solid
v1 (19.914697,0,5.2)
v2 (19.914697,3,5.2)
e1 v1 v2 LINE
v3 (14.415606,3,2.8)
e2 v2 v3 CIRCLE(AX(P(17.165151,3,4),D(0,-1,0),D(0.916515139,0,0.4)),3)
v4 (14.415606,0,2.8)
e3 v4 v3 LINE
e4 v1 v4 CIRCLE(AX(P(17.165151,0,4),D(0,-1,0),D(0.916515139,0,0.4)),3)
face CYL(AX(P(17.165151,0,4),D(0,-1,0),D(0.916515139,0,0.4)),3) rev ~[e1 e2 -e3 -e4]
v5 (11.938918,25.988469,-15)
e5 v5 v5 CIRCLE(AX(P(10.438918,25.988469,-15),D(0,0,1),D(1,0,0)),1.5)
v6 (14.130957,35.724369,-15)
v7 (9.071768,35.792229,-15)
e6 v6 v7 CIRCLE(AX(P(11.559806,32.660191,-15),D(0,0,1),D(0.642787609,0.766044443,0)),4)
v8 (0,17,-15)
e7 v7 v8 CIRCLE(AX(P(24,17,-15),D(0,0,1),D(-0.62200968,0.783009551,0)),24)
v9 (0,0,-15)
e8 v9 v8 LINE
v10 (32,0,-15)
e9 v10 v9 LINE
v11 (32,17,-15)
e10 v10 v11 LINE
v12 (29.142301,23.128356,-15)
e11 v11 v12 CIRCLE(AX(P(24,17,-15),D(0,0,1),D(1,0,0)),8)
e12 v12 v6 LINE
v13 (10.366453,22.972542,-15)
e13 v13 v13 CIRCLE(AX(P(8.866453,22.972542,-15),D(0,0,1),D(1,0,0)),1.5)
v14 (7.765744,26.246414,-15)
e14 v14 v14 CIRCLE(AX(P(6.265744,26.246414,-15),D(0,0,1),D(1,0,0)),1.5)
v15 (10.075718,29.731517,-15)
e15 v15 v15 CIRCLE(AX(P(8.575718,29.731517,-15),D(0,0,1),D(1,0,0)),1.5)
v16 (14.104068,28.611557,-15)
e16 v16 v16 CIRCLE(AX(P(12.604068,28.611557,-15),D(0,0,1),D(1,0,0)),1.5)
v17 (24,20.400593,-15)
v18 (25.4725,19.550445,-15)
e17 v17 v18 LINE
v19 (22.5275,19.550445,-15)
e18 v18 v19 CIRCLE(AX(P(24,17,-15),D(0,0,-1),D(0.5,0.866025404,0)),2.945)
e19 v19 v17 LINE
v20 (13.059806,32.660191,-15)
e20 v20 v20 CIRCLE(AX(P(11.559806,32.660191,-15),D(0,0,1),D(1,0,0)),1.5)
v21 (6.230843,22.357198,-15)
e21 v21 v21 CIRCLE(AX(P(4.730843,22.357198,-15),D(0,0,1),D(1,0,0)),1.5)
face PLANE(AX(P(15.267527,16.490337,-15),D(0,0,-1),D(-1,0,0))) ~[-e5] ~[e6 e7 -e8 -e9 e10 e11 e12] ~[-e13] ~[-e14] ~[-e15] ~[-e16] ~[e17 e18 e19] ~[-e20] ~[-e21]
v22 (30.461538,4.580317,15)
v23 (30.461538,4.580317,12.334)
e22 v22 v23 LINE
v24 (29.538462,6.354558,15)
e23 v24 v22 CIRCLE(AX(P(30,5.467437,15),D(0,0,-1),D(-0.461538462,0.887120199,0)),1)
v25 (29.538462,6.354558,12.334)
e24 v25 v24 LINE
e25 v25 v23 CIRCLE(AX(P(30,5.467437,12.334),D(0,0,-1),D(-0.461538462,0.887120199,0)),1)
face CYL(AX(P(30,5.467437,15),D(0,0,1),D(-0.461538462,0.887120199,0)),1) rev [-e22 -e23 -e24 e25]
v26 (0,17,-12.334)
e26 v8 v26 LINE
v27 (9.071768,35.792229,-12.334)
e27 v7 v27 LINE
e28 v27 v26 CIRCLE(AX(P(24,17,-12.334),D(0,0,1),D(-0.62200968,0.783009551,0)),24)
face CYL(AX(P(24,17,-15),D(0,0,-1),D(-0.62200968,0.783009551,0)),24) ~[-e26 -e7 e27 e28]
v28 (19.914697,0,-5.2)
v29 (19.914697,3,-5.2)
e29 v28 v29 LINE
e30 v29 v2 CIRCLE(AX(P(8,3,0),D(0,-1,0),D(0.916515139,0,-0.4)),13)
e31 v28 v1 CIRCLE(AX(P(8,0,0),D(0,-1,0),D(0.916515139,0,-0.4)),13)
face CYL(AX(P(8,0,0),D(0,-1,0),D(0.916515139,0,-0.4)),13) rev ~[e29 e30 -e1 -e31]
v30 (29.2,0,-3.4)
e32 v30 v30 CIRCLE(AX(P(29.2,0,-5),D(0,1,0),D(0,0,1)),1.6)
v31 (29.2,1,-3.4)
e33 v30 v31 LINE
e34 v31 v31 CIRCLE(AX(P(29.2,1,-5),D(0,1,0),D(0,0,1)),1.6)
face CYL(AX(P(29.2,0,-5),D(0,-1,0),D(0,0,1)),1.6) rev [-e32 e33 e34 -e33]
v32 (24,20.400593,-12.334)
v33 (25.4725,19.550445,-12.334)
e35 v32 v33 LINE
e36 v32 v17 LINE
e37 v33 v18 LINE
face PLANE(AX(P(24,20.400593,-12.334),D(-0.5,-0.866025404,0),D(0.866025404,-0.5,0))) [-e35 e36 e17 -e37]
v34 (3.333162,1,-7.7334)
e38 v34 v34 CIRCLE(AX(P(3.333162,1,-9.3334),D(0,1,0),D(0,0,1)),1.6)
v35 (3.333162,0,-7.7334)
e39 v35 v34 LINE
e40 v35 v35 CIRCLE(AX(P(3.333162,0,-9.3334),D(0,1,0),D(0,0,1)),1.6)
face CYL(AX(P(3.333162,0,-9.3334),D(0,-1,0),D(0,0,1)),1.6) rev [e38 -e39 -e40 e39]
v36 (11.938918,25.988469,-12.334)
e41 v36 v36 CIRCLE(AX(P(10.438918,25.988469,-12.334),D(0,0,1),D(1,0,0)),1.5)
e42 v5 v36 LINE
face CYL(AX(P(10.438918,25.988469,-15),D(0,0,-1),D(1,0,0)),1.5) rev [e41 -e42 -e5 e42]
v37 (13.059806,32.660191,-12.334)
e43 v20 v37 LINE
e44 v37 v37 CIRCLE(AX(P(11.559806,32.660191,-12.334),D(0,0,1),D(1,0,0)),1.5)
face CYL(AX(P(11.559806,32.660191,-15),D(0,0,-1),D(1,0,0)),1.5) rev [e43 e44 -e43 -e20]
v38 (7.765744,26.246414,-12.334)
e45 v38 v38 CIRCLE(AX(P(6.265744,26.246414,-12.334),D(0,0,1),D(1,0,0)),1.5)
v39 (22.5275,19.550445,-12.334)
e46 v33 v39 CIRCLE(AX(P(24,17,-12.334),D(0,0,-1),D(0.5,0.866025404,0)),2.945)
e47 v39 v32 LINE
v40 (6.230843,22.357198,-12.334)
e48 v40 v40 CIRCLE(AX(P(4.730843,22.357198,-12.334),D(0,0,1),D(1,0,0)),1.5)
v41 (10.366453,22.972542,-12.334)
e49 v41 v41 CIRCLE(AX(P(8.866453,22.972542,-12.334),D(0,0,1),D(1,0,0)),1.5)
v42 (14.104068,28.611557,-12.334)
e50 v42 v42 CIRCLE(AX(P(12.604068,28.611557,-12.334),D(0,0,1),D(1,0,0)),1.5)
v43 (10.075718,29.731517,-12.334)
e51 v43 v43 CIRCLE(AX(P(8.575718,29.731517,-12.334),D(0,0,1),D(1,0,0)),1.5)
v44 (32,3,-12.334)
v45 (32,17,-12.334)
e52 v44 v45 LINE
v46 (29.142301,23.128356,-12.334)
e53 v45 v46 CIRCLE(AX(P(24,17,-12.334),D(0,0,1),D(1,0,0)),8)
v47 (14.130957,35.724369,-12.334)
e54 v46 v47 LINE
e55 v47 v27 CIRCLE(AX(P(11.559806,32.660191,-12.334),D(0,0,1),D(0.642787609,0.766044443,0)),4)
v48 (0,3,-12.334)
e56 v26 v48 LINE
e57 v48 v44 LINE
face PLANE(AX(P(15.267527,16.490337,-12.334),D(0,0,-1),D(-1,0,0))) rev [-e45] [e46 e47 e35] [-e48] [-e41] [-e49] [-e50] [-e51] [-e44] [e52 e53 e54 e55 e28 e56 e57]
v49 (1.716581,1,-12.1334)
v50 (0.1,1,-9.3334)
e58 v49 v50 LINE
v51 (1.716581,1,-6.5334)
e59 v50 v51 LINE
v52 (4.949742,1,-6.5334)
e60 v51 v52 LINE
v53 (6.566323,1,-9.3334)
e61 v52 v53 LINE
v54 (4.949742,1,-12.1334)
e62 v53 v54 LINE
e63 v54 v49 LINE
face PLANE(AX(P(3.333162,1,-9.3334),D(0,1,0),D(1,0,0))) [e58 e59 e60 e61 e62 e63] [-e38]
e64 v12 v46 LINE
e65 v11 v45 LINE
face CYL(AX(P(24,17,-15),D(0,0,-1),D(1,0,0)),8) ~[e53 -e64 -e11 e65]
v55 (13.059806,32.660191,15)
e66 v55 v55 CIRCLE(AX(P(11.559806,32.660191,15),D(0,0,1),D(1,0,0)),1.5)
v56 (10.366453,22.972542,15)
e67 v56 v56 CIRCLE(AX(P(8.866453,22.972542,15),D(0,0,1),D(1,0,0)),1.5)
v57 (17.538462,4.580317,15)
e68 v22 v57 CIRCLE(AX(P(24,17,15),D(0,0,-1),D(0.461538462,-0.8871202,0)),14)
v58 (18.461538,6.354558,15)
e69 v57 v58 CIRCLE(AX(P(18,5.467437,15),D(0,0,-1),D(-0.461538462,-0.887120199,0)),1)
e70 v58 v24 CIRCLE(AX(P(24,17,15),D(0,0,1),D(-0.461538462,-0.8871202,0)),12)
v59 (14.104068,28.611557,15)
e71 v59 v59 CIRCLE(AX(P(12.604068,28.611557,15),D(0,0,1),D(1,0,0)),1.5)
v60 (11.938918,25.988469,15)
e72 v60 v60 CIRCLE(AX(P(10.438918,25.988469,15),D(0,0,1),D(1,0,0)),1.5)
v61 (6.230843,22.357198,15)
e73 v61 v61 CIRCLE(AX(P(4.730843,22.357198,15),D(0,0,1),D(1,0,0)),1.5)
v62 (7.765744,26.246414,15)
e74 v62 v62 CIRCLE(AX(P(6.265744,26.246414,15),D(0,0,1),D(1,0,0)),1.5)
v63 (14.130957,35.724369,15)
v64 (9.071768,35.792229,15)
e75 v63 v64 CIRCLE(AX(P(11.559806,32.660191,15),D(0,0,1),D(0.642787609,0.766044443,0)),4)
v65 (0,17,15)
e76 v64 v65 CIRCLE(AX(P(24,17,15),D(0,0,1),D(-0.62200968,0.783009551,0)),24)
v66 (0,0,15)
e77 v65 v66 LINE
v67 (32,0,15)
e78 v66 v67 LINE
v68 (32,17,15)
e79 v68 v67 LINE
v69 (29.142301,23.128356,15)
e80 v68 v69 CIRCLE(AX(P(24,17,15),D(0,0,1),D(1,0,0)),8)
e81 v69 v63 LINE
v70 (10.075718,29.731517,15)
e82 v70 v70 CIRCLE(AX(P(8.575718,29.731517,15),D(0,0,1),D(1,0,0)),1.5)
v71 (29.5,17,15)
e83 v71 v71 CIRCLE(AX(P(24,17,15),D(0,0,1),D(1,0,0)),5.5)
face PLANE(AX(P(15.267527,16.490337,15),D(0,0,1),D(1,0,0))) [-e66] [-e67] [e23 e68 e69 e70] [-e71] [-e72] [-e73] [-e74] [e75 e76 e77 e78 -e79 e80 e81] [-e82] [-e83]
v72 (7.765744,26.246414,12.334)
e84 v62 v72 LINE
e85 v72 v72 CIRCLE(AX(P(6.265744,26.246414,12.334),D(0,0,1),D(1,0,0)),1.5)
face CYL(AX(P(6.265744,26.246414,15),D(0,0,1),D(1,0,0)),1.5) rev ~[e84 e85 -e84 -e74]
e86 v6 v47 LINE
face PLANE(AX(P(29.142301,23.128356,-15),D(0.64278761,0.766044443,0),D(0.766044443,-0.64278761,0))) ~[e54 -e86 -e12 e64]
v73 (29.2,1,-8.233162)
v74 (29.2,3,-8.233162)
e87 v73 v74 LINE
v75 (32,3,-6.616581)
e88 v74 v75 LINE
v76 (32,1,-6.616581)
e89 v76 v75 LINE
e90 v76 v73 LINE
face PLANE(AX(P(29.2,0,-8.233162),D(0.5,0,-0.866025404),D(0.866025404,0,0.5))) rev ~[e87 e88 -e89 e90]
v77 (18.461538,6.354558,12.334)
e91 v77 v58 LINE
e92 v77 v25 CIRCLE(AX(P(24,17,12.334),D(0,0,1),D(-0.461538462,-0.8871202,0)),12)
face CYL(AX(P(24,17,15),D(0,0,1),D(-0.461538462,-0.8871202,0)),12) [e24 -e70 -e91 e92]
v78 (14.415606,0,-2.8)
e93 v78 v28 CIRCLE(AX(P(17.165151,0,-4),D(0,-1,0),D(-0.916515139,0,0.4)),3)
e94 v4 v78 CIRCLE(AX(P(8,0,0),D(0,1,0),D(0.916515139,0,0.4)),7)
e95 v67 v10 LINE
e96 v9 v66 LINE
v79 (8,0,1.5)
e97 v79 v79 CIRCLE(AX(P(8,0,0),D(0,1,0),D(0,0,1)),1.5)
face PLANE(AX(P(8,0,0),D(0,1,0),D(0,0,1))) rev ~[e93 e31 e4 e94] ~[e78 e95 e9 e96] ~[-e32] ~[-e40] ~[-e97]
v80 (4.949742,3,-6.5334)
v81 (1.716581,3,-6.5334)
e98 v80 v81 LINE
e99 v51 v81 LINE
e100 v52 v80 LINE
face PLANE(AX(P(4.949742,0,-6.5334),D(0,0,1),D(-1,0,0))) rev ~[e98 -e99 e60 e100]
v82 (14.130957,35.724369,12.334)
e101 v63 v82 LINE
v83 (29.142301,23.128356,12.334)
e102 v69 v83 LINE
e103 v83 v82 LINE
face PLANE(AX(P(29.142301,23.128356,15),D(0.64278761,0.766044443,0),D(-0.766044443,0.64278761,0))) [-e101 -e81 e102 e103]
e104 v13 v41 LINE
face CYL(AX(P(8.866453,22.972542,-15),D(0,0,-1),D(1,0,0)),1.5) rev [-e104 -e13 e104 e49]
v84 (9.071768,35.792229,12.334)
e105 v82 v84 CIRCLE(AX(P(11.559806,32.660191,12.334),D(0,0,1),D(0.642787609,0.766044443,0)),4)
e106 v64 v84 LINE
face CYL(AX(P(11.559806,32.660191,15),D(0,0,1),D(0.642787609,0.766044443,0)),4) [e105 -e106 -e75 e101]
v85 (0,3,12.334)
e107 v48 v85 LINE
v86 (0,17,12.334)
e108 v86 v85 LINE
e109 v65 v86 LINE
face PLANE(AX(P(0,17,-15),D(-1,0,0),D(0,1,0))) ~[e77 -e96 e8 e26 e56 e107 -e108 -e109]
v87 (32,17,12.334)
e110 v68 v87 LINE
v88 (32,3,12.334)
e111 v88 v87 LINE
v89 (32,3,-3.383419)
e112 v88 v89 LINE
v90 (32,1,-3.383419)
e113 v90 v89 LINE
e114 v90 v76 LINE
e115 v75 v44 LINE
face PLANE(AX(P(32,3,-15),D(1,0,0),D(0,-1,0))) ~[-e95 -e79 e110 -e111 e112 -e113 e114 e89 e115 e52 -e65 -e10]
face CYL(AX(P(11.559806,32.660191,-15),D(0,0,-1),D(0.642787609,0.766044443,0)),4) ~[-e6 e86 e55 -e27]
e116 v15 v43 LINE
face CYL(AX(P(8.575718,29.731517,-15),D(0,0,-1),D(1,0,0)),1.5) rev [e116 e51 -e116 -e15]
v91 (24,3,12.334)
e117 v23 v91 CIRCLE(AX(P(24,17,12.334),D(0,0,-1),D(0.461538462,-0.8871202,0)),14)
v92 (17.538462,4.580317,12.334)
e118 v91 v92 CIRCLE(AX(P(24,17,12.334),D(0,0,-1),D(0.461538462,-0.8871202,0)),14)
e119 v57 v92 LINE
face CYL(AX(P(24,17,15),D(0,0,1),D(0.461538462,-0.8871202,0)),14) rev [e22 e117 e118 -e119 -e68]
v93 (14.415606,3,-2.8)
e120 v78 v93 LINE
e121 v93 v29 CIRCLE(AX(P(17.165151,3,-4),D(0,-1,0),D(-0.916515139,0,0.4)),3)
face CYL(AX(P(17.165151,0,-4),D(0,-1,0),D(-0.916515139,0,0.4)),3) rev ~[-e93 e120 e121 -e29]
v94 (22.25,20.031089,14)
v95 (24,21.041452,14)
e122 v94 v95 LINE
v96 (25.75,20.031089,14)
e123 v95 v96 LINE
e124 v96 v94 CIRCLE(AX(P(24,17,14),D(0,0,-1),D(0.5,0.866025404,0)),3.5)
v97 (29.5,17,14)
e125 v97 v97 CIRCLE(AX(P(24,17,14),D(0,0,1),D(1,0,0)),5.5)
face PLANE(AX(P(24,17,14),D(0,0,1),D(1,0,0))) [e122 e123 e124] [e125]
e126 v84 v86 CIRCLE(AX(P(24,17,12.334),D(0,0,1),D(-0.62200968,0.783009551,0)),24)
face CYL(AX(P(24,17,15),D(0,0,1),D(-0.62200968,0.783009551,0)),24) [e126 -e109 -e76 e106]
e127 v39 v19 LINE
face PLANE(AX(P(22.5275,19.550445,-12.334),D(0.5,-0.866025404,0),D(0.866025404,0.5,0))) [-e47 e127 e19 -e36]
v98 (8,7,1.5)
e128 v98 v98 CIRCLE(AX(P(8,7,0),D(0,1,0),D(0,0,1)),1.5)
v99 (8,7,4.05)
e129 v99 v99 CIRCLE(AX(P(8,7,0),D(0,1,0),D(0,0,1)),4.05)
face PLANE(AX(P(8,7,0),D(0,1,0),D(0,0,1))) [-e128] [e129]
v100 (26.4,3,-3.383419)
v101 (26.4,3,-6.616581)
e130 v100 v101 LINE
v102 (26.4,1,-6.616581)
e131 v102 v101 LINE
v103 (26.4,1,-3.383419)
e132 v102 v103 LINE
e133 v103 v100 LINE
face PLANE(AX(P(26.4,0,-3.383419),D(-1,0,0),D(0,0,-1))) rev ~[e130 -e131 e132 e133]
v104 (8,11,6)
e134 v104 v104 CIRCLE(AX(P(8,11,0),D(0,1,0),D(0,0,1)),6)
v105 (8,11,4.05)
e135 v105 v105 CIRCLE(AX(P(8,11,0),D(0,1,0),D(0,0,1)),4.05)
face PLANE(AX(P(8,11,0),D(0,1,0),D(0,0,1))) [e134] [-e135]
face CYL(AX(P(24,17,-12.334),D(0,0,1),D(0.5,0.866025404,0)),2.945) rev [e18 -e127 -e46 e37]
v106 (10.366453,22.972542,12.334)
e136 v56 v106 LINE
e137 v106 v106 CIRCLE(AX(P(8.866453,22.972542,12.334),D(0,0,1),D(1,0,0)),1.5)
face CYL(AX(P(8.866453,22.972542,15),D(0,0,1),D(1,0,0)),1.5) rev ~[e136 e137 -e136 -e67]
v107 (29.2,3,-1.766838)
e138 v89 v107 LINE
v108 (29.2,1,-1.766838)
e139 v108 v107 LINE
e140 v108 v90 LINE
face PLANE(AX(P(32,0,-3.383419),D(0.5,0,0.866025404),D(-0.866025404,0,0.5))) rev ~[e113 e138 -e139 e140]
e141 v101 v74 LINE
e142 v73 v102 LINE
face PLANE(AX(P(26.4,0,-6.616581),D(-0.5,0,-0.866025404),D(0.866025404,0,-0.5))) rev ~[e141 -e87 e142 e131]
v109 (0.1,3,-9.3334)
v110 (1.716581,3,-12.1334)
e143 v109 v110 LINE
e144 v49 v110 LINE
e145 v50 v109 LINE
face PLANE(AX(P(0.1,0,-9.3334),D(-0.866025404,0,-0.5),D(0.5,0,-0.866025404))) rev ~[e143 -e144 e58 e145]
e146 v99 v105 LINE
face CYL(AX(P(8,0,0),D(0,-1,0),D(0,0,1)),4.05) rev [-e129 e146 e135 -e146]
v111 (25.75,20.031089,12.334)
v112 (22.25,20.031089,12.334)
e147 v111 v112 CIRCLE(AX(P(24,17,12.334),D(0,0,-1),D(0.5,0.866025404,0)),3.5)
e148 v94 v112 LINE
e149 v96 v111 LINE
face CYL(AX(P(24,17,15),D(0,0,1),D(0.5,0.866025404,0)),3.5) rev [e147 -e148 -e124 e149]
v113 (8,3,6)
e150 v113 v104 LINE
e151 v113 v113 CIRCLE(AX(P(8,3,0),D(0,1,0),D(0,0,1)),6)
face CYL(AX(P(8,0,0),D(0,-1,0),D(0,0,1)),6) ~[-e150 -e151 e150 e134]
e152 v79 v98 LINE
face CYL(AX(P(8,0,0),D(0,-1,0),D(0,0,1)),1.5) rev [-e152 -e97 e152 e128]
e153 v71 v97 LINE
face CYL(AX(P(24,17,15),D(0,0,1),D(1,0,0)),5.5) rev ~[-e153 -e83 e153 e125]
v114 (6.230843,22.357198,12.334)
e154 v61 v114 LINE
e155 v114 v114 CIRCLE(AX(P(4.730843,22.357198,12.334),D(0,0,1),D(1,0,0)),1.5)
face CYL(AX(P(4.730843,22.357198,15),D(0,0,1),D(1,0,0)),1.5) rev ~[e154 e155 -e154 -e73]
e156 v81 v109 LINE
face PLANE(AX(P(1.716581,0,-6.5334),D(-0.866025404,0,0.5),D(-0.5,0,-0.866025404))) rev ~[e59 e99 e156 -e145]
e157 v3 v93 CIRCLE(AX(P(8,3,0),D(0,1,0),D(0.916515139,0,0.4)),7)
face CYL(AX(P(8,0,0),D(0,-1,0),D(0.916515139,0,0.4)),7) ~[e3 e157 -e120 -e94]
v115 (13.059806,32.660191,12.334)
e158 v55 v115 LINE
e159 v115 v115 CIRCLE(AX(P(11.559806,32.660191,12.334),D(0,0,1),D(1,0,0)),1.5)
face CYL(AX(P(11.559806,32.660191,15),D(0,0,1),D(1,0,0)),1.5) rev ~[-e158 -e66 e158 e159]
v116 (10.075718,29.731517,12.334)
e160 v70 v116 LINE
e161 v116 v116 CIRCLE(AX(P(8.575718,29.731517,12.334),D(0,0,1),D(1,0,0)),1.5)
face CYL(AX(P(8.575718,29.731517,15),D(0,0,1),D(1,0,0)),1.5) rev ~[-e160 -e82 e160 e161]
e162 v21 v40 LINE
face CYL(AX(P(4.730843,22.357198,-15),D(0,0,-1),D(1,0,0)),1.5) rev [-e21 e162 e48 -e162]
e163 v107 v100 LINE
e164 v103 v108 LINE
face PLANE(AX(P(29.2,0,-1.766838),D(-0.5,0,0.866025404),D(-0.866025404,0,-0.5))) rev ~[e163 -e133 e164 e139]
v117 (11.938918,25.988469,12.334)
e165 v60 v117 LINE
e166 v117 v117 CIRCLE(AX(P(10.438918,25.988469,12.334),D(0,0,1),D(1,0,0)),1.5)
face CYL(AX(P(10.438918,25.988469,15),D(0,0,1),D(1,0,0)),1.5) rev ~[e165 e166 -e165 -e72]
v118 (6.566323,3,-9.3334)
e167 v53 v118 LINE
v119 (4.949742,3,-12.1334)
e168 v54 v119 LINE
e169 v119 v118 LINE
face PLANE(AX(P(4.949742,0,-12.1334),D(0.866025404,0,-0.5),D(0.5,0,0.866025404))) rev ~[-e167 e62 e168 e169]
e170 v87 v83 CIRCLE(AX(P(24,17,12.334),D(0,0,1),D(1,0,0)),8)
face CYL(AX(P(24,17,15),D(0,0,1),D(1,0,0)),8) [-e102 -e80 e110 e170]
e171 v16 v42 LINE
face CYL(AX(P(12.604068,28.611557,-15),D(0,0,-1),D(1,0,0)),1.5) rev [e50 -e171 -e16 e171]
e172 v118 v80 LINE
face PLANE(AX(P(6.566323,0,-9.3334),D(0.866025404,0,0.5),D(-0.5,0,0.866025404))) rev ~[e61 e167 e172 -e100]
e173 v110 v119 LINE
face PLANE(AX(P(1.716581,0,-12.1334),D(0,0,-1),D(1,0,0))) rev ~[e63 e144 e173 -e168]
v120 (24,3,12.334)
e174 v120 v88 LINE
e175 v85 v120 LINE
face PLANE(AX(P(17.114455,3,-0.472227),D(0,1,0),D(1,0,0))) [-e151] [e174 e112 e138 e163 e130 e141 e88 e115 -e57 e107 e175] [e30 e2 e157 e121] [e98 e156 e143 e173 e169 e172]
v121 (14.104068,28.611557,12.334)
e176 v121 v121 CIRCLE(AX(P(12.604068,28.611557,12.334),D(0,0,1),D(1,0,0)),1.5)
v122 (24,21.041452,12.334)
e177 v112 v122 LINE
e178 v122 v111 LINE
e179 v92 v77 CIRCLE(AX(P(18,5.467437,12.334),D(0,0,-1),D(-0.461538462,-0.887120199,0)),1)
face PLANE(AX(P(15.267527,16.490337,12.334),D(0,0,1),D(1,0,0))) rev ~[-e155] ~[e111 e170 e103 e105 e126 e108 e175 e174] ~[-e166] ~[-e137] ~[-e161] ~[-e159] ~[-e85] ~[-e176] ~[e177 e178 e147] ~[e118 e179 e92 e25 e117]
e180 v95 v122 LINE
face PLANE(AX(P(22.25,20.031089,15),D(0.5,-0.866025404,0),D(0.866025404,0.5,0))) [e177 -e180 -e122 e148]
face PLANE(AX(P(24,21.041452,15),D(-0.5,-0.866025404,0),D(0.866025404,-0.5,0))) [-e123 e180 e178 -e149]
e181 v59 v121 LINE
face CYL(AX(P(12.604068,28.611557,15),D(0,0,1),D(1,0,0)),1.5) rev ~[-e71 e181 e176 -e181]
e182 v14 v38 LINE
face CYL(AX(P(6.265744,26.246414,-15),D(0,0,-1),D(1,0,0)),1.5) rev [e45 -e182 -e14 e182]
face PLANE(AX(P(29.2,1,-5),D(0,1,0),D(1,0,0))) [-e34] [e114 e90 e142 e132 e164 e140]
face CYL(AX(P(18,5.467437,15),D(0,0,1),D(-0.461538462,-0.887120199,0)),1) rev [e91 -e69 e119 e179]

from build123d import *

# Parameters (mm, degrees)
SKETCH1_R           = 6
BOSS_EXTRUDE1_DEPTH = 3
SKETCH1_3_R         = 1.6
BOSS_EXTRUDE5_DEPTH = 1
SKETCH1_6_R         = 6
SKETCH1_6_R_2       = 4.05
BOSS_EXTRUDE6_DEPTH = 11
SKETCH1_7_R         = 4.05
SKETCH1_7_R_2       = 1.5
BOSS_EXTRUDE7_DEPTH = 7
SKETCH2_R           = 1.5
BOSS_EXTRUDE2_DEPTH = 2.666
CUT_EXTRUDE1_DEPTH  = 2.666
CUT_EXTRUDE2_DEPTH  = 2.666
SKETCH3_3_R         = 5.5
CUT_EXTRUDE4_DEPTH  = 1


with BuildPart() as part:
    # Sketch1 → Boss-Extrude1 (new body)
    with BuildSketch(Plane(origin=(0, 0, 0), x_dir=(1, 0, 0), z_dir=(0, 1, 0))):
        Polygon((0, 15), (0, -15), (32, -15), (32, 3.383419246), (29.2, 1.766838493), (26.4, 3.383419246), (26.4, 6.616580754), (29.2, 8.233161507), (32, 6.616580754), (32, 15), align=None)
        with Locations(Location((8, 0, 0), (0, 0, 270))):
            Circle(SKETCH1_R, mode=Mode.SUBTRACT)
        with BuildLine():
            ThreePointArc((19.914696807, 5.2), (21, 0), (19.914696807, -5.2))
            ThreePointArc((19.914696807, -5.2), (15.96515139, -6.749545417), (14.415605973, -2.8))
            ThreePointArc((14.415605973, -2.8), (15, 0), (14.415605973, 2.8))
            ThreePointArc((14.415605973, 2.8), (15.96515139, 6.749545417), (19.914696807, 5.2))
        make_face(mode=Mode.SUBTRACT)
        Polygon((6.566323015, 9.3334), (4.949742261, 6.5334), (1.716580754, 6.5334), (0.1, 9.3334), (1.716580754, 12.1334), (4.949742261, 12.1334), align=None, mode=Mode.SUBTRACT)
    extrude(amount=BOSS_EXTRUDE1_DEPTH)

    # Sketch1<3> → Boss-Extrude5 (add)
    # profile 1 of 2: a face of its own
    with BuildSketch(Plane(origin=(0, 0, 0), x_dir=(1, 0, 0), z_dir=(0, 1, 0))):
        Polygon((29.2, 1.766838493), (32, 3.383419246), (32, 6.616580754), (29.2, 8.233161507), (26.4, 6.616580754), (26.4, 3.383419246), align=None)
        with Locations(Location((29.2, 5, 0), (0, 0, 270))):
            Circle(SKETCH1_3_R, mode=Mode.SUBTRACT)
    # profile 2 of 2: a face of its own
    with BuildSketch(Plane(origin=(0, 0, 0), x_dir=(1, 0, 0), z_dir=(0, 1, 0))):
        Polygon((1.716580754, 6.5334), (4.949742261, 6.5334), (6.566323015, 9.3334), (4.949742261, 12.1334), (1.716580754, 12.1334), (0.1, 9.3334), align=None)
        with Locations(Location((3.333161507, 9.3334, 0), (0, 0, 270))):
            Circle(SKETCH1_3_R, mode=Mode.SUBTRACT)
    extrude(amount=BOSS_EXTRUDE5_DEPTH)

    # Sketch1<6> → Boss-Extrude6 (add)
    with BuildSketch(Plane(origin=(0, 0, 0), x_dir=(1, 0, 0), z_dir=(0, 1, 0))):
        with Locations(Location((8, 0, 0), (0, 0, 270))):
            Circle(SKETCH1_6_R)
        with Locations(Location((8, 0, 0), (0, 0, 270))):
            Circle(SKETCH1_6_R_2, mode=Mode.SUBTRACT)
    extrude(amount=BOSS_EXTRUDE6_DEPTH)

    # Sketch1<7> → Boss-Extrude7 (add)
    with BuildSketch(Plane(origin=(0, 0, 0), x_dir=(1, 0, 0), z_dir=(0, 1, 0))):
        with Locations(Location((8, 0, 0), (0, 0, 270))):
            Circle(SKETCH1_7_R)
        with Locations(Location((8, 0, 0), (0, 0, 270))):
            Circle(SKETCH1_7_R_2, mode=Mode.SUBTRACT)
    extrude(amount=BOSS_EXTRUDE7_DEPTH)

    # Sketch2 → Boss-Extrude2 (add)
    with BuildSketch(Plane.XY.offset(15)):
        with BuildLine():
            ThreePointArc((32, 17), (31.250462296, 20.380946094), (29.142300877, 23.128355545))
            Line((29.142300877, 23.128355545), (14.13095683, 35.724368799))
            ThreePointArc((14.13095683, 35.724368799), (11.613454774, 36.659831241), (9.07176767, 35.792229231))
            ThreePointArc((9.07176767, 35.792229231), (2.386606283, 27.433657654), (0, 17))
            Line((0, 17), (0, 3))
            Line((0, 3), (32, 3))
            Line((32, 3), (32, 17))
        make_face()
        with Locations((4.730842624, 22.357198336)):
            Circle(SKETCH2_R, mode=Mode.SUBTRACT)
        with Locations((6.265744109, 26.24641379)):
            Circle(SKETCH2_R, mode=Mode.SUBTRACT)
        with Locations((8.86645275, 22.972542385)):
            Circle(SKETCH2_R, mode=Mode.SUBTRACT)
        with Locations((10.438918453, 25.988469401)):
            Circle(SKETCH2_R, mode=Mode.SUBTRACT)
        with Locations((8.575717674, 29.731516592)):
            Circle(SKETCH2_R, mode=Mode.SUBTRACT)
        with Locations((12.604068492, 28.611557173)):
            Circle(SKETCH2_R, mode=Mode.SUBTRACT)
        with Locations((11.559806391, 32.660191026)):
            Circle(SKETCH2_R, mode=Mode.SUBTRACT)
    boss_extrude2 = extrude(amount=-BOSS_EXTRUDE2_DEPTH)

    # Mirror1: Boss-Extrude2 across plane
    add(boss_extrude2.mirror(Plane.XY))

    # Sketch3 → Cut-Extrude1 (cut)
    with BuildSketch(Plane.XY.offset(15)):
        with BuildLine():
            Line((22.25, 20.031088913), (24, 21.041451884))
            Line((24, 21.041451884), (25.75, 20.031088913))
            ThreePointArc((25.75, 20.031088913), (24, 13.5), (22.25, 20.031088913))
        make_face()
        with BuildLine():
            ThreePointArc((18.461538462, 6.354557605), (24, 5), (29.538461538, 6.354557605))
            ThreePointArc((29.538461538, 6.354557605), (30.8871202, 5.928975867), (30.461538462, 4.580317206))
            ThreePointArc((30.461538462, 4.580317206), (24, 3), (17.538461538, 4.580317206))
            ThreePointArc((17.538461538, 4.580317206), (17.1128798, 5.928975867), (18.461538462, 6.354557605))
        make_face()
    extrude(amount=-CUT_EXTRUDE1_DEPTH, mode=Mode.SUBTRACT)

    # Sketch4 → Cut-Extrude2 (cut)
    with BuildSketch(Plane.XY.offset(-12.334)):
        with BuildLine():
            Line((22.5275, 19.550444814), (24, 20.400593086))
            Line((24, 20.400593086), (25.4725, 19.550444814))
            ThreePointArc((25.4725, 19.550444814), (24, 14.055), (22.5275, 19.550444814))
        make_face()
    extrude(amount=-CUT_EXTRUDE2_DEPTH, mode=Mode.SUBTRACT)

    # Sketch3<3> → Cut-Extrude4 (cut)
    # profile 1 of 2: a face of its own
    with BuildSketch(Plane.XY.offset(15)):
        with Locations((24, 17)):
            Circle(SKETCH3_3_R)
        with BuildLine():
            Line((22.25, 20.031088913), (24, 21.041451884))
            Line((24, 21.041451884), (25.75, 20.031088913))
            ThreePointArc((25.75, 20.031088913), (24, 13.5), (22.25, 20.031088913))
        make_face(mode=Mode.SUBTRACT)
    # profile 2 of 2: a face of its own
    with BuildSketch(Plane.XY.offset(15)):
        with BuildLine():
            ThreePointArc((17.538461538, 4.580317206), (24, 3), (30.461538462, 4.580317206))
            ThreePointArc((30.461538462, 4.580317206), (30.8871202, 5.928975867), (29.538461538, 6.354557605))
            ThreePointArc((29.538461538, 6.354557605), (24, 5), (18.461538462, 6.354557605))
            ThreePointArc((18.461538462, 6.354557605), (17.1128798, 5.928975867), (17.538461538, 4.580317206))
        make_face()
    extrude(amount=-CUT_EXTRUDE4_DEPTH, mode=Mode.SUBTRACT)


solid = part.part
